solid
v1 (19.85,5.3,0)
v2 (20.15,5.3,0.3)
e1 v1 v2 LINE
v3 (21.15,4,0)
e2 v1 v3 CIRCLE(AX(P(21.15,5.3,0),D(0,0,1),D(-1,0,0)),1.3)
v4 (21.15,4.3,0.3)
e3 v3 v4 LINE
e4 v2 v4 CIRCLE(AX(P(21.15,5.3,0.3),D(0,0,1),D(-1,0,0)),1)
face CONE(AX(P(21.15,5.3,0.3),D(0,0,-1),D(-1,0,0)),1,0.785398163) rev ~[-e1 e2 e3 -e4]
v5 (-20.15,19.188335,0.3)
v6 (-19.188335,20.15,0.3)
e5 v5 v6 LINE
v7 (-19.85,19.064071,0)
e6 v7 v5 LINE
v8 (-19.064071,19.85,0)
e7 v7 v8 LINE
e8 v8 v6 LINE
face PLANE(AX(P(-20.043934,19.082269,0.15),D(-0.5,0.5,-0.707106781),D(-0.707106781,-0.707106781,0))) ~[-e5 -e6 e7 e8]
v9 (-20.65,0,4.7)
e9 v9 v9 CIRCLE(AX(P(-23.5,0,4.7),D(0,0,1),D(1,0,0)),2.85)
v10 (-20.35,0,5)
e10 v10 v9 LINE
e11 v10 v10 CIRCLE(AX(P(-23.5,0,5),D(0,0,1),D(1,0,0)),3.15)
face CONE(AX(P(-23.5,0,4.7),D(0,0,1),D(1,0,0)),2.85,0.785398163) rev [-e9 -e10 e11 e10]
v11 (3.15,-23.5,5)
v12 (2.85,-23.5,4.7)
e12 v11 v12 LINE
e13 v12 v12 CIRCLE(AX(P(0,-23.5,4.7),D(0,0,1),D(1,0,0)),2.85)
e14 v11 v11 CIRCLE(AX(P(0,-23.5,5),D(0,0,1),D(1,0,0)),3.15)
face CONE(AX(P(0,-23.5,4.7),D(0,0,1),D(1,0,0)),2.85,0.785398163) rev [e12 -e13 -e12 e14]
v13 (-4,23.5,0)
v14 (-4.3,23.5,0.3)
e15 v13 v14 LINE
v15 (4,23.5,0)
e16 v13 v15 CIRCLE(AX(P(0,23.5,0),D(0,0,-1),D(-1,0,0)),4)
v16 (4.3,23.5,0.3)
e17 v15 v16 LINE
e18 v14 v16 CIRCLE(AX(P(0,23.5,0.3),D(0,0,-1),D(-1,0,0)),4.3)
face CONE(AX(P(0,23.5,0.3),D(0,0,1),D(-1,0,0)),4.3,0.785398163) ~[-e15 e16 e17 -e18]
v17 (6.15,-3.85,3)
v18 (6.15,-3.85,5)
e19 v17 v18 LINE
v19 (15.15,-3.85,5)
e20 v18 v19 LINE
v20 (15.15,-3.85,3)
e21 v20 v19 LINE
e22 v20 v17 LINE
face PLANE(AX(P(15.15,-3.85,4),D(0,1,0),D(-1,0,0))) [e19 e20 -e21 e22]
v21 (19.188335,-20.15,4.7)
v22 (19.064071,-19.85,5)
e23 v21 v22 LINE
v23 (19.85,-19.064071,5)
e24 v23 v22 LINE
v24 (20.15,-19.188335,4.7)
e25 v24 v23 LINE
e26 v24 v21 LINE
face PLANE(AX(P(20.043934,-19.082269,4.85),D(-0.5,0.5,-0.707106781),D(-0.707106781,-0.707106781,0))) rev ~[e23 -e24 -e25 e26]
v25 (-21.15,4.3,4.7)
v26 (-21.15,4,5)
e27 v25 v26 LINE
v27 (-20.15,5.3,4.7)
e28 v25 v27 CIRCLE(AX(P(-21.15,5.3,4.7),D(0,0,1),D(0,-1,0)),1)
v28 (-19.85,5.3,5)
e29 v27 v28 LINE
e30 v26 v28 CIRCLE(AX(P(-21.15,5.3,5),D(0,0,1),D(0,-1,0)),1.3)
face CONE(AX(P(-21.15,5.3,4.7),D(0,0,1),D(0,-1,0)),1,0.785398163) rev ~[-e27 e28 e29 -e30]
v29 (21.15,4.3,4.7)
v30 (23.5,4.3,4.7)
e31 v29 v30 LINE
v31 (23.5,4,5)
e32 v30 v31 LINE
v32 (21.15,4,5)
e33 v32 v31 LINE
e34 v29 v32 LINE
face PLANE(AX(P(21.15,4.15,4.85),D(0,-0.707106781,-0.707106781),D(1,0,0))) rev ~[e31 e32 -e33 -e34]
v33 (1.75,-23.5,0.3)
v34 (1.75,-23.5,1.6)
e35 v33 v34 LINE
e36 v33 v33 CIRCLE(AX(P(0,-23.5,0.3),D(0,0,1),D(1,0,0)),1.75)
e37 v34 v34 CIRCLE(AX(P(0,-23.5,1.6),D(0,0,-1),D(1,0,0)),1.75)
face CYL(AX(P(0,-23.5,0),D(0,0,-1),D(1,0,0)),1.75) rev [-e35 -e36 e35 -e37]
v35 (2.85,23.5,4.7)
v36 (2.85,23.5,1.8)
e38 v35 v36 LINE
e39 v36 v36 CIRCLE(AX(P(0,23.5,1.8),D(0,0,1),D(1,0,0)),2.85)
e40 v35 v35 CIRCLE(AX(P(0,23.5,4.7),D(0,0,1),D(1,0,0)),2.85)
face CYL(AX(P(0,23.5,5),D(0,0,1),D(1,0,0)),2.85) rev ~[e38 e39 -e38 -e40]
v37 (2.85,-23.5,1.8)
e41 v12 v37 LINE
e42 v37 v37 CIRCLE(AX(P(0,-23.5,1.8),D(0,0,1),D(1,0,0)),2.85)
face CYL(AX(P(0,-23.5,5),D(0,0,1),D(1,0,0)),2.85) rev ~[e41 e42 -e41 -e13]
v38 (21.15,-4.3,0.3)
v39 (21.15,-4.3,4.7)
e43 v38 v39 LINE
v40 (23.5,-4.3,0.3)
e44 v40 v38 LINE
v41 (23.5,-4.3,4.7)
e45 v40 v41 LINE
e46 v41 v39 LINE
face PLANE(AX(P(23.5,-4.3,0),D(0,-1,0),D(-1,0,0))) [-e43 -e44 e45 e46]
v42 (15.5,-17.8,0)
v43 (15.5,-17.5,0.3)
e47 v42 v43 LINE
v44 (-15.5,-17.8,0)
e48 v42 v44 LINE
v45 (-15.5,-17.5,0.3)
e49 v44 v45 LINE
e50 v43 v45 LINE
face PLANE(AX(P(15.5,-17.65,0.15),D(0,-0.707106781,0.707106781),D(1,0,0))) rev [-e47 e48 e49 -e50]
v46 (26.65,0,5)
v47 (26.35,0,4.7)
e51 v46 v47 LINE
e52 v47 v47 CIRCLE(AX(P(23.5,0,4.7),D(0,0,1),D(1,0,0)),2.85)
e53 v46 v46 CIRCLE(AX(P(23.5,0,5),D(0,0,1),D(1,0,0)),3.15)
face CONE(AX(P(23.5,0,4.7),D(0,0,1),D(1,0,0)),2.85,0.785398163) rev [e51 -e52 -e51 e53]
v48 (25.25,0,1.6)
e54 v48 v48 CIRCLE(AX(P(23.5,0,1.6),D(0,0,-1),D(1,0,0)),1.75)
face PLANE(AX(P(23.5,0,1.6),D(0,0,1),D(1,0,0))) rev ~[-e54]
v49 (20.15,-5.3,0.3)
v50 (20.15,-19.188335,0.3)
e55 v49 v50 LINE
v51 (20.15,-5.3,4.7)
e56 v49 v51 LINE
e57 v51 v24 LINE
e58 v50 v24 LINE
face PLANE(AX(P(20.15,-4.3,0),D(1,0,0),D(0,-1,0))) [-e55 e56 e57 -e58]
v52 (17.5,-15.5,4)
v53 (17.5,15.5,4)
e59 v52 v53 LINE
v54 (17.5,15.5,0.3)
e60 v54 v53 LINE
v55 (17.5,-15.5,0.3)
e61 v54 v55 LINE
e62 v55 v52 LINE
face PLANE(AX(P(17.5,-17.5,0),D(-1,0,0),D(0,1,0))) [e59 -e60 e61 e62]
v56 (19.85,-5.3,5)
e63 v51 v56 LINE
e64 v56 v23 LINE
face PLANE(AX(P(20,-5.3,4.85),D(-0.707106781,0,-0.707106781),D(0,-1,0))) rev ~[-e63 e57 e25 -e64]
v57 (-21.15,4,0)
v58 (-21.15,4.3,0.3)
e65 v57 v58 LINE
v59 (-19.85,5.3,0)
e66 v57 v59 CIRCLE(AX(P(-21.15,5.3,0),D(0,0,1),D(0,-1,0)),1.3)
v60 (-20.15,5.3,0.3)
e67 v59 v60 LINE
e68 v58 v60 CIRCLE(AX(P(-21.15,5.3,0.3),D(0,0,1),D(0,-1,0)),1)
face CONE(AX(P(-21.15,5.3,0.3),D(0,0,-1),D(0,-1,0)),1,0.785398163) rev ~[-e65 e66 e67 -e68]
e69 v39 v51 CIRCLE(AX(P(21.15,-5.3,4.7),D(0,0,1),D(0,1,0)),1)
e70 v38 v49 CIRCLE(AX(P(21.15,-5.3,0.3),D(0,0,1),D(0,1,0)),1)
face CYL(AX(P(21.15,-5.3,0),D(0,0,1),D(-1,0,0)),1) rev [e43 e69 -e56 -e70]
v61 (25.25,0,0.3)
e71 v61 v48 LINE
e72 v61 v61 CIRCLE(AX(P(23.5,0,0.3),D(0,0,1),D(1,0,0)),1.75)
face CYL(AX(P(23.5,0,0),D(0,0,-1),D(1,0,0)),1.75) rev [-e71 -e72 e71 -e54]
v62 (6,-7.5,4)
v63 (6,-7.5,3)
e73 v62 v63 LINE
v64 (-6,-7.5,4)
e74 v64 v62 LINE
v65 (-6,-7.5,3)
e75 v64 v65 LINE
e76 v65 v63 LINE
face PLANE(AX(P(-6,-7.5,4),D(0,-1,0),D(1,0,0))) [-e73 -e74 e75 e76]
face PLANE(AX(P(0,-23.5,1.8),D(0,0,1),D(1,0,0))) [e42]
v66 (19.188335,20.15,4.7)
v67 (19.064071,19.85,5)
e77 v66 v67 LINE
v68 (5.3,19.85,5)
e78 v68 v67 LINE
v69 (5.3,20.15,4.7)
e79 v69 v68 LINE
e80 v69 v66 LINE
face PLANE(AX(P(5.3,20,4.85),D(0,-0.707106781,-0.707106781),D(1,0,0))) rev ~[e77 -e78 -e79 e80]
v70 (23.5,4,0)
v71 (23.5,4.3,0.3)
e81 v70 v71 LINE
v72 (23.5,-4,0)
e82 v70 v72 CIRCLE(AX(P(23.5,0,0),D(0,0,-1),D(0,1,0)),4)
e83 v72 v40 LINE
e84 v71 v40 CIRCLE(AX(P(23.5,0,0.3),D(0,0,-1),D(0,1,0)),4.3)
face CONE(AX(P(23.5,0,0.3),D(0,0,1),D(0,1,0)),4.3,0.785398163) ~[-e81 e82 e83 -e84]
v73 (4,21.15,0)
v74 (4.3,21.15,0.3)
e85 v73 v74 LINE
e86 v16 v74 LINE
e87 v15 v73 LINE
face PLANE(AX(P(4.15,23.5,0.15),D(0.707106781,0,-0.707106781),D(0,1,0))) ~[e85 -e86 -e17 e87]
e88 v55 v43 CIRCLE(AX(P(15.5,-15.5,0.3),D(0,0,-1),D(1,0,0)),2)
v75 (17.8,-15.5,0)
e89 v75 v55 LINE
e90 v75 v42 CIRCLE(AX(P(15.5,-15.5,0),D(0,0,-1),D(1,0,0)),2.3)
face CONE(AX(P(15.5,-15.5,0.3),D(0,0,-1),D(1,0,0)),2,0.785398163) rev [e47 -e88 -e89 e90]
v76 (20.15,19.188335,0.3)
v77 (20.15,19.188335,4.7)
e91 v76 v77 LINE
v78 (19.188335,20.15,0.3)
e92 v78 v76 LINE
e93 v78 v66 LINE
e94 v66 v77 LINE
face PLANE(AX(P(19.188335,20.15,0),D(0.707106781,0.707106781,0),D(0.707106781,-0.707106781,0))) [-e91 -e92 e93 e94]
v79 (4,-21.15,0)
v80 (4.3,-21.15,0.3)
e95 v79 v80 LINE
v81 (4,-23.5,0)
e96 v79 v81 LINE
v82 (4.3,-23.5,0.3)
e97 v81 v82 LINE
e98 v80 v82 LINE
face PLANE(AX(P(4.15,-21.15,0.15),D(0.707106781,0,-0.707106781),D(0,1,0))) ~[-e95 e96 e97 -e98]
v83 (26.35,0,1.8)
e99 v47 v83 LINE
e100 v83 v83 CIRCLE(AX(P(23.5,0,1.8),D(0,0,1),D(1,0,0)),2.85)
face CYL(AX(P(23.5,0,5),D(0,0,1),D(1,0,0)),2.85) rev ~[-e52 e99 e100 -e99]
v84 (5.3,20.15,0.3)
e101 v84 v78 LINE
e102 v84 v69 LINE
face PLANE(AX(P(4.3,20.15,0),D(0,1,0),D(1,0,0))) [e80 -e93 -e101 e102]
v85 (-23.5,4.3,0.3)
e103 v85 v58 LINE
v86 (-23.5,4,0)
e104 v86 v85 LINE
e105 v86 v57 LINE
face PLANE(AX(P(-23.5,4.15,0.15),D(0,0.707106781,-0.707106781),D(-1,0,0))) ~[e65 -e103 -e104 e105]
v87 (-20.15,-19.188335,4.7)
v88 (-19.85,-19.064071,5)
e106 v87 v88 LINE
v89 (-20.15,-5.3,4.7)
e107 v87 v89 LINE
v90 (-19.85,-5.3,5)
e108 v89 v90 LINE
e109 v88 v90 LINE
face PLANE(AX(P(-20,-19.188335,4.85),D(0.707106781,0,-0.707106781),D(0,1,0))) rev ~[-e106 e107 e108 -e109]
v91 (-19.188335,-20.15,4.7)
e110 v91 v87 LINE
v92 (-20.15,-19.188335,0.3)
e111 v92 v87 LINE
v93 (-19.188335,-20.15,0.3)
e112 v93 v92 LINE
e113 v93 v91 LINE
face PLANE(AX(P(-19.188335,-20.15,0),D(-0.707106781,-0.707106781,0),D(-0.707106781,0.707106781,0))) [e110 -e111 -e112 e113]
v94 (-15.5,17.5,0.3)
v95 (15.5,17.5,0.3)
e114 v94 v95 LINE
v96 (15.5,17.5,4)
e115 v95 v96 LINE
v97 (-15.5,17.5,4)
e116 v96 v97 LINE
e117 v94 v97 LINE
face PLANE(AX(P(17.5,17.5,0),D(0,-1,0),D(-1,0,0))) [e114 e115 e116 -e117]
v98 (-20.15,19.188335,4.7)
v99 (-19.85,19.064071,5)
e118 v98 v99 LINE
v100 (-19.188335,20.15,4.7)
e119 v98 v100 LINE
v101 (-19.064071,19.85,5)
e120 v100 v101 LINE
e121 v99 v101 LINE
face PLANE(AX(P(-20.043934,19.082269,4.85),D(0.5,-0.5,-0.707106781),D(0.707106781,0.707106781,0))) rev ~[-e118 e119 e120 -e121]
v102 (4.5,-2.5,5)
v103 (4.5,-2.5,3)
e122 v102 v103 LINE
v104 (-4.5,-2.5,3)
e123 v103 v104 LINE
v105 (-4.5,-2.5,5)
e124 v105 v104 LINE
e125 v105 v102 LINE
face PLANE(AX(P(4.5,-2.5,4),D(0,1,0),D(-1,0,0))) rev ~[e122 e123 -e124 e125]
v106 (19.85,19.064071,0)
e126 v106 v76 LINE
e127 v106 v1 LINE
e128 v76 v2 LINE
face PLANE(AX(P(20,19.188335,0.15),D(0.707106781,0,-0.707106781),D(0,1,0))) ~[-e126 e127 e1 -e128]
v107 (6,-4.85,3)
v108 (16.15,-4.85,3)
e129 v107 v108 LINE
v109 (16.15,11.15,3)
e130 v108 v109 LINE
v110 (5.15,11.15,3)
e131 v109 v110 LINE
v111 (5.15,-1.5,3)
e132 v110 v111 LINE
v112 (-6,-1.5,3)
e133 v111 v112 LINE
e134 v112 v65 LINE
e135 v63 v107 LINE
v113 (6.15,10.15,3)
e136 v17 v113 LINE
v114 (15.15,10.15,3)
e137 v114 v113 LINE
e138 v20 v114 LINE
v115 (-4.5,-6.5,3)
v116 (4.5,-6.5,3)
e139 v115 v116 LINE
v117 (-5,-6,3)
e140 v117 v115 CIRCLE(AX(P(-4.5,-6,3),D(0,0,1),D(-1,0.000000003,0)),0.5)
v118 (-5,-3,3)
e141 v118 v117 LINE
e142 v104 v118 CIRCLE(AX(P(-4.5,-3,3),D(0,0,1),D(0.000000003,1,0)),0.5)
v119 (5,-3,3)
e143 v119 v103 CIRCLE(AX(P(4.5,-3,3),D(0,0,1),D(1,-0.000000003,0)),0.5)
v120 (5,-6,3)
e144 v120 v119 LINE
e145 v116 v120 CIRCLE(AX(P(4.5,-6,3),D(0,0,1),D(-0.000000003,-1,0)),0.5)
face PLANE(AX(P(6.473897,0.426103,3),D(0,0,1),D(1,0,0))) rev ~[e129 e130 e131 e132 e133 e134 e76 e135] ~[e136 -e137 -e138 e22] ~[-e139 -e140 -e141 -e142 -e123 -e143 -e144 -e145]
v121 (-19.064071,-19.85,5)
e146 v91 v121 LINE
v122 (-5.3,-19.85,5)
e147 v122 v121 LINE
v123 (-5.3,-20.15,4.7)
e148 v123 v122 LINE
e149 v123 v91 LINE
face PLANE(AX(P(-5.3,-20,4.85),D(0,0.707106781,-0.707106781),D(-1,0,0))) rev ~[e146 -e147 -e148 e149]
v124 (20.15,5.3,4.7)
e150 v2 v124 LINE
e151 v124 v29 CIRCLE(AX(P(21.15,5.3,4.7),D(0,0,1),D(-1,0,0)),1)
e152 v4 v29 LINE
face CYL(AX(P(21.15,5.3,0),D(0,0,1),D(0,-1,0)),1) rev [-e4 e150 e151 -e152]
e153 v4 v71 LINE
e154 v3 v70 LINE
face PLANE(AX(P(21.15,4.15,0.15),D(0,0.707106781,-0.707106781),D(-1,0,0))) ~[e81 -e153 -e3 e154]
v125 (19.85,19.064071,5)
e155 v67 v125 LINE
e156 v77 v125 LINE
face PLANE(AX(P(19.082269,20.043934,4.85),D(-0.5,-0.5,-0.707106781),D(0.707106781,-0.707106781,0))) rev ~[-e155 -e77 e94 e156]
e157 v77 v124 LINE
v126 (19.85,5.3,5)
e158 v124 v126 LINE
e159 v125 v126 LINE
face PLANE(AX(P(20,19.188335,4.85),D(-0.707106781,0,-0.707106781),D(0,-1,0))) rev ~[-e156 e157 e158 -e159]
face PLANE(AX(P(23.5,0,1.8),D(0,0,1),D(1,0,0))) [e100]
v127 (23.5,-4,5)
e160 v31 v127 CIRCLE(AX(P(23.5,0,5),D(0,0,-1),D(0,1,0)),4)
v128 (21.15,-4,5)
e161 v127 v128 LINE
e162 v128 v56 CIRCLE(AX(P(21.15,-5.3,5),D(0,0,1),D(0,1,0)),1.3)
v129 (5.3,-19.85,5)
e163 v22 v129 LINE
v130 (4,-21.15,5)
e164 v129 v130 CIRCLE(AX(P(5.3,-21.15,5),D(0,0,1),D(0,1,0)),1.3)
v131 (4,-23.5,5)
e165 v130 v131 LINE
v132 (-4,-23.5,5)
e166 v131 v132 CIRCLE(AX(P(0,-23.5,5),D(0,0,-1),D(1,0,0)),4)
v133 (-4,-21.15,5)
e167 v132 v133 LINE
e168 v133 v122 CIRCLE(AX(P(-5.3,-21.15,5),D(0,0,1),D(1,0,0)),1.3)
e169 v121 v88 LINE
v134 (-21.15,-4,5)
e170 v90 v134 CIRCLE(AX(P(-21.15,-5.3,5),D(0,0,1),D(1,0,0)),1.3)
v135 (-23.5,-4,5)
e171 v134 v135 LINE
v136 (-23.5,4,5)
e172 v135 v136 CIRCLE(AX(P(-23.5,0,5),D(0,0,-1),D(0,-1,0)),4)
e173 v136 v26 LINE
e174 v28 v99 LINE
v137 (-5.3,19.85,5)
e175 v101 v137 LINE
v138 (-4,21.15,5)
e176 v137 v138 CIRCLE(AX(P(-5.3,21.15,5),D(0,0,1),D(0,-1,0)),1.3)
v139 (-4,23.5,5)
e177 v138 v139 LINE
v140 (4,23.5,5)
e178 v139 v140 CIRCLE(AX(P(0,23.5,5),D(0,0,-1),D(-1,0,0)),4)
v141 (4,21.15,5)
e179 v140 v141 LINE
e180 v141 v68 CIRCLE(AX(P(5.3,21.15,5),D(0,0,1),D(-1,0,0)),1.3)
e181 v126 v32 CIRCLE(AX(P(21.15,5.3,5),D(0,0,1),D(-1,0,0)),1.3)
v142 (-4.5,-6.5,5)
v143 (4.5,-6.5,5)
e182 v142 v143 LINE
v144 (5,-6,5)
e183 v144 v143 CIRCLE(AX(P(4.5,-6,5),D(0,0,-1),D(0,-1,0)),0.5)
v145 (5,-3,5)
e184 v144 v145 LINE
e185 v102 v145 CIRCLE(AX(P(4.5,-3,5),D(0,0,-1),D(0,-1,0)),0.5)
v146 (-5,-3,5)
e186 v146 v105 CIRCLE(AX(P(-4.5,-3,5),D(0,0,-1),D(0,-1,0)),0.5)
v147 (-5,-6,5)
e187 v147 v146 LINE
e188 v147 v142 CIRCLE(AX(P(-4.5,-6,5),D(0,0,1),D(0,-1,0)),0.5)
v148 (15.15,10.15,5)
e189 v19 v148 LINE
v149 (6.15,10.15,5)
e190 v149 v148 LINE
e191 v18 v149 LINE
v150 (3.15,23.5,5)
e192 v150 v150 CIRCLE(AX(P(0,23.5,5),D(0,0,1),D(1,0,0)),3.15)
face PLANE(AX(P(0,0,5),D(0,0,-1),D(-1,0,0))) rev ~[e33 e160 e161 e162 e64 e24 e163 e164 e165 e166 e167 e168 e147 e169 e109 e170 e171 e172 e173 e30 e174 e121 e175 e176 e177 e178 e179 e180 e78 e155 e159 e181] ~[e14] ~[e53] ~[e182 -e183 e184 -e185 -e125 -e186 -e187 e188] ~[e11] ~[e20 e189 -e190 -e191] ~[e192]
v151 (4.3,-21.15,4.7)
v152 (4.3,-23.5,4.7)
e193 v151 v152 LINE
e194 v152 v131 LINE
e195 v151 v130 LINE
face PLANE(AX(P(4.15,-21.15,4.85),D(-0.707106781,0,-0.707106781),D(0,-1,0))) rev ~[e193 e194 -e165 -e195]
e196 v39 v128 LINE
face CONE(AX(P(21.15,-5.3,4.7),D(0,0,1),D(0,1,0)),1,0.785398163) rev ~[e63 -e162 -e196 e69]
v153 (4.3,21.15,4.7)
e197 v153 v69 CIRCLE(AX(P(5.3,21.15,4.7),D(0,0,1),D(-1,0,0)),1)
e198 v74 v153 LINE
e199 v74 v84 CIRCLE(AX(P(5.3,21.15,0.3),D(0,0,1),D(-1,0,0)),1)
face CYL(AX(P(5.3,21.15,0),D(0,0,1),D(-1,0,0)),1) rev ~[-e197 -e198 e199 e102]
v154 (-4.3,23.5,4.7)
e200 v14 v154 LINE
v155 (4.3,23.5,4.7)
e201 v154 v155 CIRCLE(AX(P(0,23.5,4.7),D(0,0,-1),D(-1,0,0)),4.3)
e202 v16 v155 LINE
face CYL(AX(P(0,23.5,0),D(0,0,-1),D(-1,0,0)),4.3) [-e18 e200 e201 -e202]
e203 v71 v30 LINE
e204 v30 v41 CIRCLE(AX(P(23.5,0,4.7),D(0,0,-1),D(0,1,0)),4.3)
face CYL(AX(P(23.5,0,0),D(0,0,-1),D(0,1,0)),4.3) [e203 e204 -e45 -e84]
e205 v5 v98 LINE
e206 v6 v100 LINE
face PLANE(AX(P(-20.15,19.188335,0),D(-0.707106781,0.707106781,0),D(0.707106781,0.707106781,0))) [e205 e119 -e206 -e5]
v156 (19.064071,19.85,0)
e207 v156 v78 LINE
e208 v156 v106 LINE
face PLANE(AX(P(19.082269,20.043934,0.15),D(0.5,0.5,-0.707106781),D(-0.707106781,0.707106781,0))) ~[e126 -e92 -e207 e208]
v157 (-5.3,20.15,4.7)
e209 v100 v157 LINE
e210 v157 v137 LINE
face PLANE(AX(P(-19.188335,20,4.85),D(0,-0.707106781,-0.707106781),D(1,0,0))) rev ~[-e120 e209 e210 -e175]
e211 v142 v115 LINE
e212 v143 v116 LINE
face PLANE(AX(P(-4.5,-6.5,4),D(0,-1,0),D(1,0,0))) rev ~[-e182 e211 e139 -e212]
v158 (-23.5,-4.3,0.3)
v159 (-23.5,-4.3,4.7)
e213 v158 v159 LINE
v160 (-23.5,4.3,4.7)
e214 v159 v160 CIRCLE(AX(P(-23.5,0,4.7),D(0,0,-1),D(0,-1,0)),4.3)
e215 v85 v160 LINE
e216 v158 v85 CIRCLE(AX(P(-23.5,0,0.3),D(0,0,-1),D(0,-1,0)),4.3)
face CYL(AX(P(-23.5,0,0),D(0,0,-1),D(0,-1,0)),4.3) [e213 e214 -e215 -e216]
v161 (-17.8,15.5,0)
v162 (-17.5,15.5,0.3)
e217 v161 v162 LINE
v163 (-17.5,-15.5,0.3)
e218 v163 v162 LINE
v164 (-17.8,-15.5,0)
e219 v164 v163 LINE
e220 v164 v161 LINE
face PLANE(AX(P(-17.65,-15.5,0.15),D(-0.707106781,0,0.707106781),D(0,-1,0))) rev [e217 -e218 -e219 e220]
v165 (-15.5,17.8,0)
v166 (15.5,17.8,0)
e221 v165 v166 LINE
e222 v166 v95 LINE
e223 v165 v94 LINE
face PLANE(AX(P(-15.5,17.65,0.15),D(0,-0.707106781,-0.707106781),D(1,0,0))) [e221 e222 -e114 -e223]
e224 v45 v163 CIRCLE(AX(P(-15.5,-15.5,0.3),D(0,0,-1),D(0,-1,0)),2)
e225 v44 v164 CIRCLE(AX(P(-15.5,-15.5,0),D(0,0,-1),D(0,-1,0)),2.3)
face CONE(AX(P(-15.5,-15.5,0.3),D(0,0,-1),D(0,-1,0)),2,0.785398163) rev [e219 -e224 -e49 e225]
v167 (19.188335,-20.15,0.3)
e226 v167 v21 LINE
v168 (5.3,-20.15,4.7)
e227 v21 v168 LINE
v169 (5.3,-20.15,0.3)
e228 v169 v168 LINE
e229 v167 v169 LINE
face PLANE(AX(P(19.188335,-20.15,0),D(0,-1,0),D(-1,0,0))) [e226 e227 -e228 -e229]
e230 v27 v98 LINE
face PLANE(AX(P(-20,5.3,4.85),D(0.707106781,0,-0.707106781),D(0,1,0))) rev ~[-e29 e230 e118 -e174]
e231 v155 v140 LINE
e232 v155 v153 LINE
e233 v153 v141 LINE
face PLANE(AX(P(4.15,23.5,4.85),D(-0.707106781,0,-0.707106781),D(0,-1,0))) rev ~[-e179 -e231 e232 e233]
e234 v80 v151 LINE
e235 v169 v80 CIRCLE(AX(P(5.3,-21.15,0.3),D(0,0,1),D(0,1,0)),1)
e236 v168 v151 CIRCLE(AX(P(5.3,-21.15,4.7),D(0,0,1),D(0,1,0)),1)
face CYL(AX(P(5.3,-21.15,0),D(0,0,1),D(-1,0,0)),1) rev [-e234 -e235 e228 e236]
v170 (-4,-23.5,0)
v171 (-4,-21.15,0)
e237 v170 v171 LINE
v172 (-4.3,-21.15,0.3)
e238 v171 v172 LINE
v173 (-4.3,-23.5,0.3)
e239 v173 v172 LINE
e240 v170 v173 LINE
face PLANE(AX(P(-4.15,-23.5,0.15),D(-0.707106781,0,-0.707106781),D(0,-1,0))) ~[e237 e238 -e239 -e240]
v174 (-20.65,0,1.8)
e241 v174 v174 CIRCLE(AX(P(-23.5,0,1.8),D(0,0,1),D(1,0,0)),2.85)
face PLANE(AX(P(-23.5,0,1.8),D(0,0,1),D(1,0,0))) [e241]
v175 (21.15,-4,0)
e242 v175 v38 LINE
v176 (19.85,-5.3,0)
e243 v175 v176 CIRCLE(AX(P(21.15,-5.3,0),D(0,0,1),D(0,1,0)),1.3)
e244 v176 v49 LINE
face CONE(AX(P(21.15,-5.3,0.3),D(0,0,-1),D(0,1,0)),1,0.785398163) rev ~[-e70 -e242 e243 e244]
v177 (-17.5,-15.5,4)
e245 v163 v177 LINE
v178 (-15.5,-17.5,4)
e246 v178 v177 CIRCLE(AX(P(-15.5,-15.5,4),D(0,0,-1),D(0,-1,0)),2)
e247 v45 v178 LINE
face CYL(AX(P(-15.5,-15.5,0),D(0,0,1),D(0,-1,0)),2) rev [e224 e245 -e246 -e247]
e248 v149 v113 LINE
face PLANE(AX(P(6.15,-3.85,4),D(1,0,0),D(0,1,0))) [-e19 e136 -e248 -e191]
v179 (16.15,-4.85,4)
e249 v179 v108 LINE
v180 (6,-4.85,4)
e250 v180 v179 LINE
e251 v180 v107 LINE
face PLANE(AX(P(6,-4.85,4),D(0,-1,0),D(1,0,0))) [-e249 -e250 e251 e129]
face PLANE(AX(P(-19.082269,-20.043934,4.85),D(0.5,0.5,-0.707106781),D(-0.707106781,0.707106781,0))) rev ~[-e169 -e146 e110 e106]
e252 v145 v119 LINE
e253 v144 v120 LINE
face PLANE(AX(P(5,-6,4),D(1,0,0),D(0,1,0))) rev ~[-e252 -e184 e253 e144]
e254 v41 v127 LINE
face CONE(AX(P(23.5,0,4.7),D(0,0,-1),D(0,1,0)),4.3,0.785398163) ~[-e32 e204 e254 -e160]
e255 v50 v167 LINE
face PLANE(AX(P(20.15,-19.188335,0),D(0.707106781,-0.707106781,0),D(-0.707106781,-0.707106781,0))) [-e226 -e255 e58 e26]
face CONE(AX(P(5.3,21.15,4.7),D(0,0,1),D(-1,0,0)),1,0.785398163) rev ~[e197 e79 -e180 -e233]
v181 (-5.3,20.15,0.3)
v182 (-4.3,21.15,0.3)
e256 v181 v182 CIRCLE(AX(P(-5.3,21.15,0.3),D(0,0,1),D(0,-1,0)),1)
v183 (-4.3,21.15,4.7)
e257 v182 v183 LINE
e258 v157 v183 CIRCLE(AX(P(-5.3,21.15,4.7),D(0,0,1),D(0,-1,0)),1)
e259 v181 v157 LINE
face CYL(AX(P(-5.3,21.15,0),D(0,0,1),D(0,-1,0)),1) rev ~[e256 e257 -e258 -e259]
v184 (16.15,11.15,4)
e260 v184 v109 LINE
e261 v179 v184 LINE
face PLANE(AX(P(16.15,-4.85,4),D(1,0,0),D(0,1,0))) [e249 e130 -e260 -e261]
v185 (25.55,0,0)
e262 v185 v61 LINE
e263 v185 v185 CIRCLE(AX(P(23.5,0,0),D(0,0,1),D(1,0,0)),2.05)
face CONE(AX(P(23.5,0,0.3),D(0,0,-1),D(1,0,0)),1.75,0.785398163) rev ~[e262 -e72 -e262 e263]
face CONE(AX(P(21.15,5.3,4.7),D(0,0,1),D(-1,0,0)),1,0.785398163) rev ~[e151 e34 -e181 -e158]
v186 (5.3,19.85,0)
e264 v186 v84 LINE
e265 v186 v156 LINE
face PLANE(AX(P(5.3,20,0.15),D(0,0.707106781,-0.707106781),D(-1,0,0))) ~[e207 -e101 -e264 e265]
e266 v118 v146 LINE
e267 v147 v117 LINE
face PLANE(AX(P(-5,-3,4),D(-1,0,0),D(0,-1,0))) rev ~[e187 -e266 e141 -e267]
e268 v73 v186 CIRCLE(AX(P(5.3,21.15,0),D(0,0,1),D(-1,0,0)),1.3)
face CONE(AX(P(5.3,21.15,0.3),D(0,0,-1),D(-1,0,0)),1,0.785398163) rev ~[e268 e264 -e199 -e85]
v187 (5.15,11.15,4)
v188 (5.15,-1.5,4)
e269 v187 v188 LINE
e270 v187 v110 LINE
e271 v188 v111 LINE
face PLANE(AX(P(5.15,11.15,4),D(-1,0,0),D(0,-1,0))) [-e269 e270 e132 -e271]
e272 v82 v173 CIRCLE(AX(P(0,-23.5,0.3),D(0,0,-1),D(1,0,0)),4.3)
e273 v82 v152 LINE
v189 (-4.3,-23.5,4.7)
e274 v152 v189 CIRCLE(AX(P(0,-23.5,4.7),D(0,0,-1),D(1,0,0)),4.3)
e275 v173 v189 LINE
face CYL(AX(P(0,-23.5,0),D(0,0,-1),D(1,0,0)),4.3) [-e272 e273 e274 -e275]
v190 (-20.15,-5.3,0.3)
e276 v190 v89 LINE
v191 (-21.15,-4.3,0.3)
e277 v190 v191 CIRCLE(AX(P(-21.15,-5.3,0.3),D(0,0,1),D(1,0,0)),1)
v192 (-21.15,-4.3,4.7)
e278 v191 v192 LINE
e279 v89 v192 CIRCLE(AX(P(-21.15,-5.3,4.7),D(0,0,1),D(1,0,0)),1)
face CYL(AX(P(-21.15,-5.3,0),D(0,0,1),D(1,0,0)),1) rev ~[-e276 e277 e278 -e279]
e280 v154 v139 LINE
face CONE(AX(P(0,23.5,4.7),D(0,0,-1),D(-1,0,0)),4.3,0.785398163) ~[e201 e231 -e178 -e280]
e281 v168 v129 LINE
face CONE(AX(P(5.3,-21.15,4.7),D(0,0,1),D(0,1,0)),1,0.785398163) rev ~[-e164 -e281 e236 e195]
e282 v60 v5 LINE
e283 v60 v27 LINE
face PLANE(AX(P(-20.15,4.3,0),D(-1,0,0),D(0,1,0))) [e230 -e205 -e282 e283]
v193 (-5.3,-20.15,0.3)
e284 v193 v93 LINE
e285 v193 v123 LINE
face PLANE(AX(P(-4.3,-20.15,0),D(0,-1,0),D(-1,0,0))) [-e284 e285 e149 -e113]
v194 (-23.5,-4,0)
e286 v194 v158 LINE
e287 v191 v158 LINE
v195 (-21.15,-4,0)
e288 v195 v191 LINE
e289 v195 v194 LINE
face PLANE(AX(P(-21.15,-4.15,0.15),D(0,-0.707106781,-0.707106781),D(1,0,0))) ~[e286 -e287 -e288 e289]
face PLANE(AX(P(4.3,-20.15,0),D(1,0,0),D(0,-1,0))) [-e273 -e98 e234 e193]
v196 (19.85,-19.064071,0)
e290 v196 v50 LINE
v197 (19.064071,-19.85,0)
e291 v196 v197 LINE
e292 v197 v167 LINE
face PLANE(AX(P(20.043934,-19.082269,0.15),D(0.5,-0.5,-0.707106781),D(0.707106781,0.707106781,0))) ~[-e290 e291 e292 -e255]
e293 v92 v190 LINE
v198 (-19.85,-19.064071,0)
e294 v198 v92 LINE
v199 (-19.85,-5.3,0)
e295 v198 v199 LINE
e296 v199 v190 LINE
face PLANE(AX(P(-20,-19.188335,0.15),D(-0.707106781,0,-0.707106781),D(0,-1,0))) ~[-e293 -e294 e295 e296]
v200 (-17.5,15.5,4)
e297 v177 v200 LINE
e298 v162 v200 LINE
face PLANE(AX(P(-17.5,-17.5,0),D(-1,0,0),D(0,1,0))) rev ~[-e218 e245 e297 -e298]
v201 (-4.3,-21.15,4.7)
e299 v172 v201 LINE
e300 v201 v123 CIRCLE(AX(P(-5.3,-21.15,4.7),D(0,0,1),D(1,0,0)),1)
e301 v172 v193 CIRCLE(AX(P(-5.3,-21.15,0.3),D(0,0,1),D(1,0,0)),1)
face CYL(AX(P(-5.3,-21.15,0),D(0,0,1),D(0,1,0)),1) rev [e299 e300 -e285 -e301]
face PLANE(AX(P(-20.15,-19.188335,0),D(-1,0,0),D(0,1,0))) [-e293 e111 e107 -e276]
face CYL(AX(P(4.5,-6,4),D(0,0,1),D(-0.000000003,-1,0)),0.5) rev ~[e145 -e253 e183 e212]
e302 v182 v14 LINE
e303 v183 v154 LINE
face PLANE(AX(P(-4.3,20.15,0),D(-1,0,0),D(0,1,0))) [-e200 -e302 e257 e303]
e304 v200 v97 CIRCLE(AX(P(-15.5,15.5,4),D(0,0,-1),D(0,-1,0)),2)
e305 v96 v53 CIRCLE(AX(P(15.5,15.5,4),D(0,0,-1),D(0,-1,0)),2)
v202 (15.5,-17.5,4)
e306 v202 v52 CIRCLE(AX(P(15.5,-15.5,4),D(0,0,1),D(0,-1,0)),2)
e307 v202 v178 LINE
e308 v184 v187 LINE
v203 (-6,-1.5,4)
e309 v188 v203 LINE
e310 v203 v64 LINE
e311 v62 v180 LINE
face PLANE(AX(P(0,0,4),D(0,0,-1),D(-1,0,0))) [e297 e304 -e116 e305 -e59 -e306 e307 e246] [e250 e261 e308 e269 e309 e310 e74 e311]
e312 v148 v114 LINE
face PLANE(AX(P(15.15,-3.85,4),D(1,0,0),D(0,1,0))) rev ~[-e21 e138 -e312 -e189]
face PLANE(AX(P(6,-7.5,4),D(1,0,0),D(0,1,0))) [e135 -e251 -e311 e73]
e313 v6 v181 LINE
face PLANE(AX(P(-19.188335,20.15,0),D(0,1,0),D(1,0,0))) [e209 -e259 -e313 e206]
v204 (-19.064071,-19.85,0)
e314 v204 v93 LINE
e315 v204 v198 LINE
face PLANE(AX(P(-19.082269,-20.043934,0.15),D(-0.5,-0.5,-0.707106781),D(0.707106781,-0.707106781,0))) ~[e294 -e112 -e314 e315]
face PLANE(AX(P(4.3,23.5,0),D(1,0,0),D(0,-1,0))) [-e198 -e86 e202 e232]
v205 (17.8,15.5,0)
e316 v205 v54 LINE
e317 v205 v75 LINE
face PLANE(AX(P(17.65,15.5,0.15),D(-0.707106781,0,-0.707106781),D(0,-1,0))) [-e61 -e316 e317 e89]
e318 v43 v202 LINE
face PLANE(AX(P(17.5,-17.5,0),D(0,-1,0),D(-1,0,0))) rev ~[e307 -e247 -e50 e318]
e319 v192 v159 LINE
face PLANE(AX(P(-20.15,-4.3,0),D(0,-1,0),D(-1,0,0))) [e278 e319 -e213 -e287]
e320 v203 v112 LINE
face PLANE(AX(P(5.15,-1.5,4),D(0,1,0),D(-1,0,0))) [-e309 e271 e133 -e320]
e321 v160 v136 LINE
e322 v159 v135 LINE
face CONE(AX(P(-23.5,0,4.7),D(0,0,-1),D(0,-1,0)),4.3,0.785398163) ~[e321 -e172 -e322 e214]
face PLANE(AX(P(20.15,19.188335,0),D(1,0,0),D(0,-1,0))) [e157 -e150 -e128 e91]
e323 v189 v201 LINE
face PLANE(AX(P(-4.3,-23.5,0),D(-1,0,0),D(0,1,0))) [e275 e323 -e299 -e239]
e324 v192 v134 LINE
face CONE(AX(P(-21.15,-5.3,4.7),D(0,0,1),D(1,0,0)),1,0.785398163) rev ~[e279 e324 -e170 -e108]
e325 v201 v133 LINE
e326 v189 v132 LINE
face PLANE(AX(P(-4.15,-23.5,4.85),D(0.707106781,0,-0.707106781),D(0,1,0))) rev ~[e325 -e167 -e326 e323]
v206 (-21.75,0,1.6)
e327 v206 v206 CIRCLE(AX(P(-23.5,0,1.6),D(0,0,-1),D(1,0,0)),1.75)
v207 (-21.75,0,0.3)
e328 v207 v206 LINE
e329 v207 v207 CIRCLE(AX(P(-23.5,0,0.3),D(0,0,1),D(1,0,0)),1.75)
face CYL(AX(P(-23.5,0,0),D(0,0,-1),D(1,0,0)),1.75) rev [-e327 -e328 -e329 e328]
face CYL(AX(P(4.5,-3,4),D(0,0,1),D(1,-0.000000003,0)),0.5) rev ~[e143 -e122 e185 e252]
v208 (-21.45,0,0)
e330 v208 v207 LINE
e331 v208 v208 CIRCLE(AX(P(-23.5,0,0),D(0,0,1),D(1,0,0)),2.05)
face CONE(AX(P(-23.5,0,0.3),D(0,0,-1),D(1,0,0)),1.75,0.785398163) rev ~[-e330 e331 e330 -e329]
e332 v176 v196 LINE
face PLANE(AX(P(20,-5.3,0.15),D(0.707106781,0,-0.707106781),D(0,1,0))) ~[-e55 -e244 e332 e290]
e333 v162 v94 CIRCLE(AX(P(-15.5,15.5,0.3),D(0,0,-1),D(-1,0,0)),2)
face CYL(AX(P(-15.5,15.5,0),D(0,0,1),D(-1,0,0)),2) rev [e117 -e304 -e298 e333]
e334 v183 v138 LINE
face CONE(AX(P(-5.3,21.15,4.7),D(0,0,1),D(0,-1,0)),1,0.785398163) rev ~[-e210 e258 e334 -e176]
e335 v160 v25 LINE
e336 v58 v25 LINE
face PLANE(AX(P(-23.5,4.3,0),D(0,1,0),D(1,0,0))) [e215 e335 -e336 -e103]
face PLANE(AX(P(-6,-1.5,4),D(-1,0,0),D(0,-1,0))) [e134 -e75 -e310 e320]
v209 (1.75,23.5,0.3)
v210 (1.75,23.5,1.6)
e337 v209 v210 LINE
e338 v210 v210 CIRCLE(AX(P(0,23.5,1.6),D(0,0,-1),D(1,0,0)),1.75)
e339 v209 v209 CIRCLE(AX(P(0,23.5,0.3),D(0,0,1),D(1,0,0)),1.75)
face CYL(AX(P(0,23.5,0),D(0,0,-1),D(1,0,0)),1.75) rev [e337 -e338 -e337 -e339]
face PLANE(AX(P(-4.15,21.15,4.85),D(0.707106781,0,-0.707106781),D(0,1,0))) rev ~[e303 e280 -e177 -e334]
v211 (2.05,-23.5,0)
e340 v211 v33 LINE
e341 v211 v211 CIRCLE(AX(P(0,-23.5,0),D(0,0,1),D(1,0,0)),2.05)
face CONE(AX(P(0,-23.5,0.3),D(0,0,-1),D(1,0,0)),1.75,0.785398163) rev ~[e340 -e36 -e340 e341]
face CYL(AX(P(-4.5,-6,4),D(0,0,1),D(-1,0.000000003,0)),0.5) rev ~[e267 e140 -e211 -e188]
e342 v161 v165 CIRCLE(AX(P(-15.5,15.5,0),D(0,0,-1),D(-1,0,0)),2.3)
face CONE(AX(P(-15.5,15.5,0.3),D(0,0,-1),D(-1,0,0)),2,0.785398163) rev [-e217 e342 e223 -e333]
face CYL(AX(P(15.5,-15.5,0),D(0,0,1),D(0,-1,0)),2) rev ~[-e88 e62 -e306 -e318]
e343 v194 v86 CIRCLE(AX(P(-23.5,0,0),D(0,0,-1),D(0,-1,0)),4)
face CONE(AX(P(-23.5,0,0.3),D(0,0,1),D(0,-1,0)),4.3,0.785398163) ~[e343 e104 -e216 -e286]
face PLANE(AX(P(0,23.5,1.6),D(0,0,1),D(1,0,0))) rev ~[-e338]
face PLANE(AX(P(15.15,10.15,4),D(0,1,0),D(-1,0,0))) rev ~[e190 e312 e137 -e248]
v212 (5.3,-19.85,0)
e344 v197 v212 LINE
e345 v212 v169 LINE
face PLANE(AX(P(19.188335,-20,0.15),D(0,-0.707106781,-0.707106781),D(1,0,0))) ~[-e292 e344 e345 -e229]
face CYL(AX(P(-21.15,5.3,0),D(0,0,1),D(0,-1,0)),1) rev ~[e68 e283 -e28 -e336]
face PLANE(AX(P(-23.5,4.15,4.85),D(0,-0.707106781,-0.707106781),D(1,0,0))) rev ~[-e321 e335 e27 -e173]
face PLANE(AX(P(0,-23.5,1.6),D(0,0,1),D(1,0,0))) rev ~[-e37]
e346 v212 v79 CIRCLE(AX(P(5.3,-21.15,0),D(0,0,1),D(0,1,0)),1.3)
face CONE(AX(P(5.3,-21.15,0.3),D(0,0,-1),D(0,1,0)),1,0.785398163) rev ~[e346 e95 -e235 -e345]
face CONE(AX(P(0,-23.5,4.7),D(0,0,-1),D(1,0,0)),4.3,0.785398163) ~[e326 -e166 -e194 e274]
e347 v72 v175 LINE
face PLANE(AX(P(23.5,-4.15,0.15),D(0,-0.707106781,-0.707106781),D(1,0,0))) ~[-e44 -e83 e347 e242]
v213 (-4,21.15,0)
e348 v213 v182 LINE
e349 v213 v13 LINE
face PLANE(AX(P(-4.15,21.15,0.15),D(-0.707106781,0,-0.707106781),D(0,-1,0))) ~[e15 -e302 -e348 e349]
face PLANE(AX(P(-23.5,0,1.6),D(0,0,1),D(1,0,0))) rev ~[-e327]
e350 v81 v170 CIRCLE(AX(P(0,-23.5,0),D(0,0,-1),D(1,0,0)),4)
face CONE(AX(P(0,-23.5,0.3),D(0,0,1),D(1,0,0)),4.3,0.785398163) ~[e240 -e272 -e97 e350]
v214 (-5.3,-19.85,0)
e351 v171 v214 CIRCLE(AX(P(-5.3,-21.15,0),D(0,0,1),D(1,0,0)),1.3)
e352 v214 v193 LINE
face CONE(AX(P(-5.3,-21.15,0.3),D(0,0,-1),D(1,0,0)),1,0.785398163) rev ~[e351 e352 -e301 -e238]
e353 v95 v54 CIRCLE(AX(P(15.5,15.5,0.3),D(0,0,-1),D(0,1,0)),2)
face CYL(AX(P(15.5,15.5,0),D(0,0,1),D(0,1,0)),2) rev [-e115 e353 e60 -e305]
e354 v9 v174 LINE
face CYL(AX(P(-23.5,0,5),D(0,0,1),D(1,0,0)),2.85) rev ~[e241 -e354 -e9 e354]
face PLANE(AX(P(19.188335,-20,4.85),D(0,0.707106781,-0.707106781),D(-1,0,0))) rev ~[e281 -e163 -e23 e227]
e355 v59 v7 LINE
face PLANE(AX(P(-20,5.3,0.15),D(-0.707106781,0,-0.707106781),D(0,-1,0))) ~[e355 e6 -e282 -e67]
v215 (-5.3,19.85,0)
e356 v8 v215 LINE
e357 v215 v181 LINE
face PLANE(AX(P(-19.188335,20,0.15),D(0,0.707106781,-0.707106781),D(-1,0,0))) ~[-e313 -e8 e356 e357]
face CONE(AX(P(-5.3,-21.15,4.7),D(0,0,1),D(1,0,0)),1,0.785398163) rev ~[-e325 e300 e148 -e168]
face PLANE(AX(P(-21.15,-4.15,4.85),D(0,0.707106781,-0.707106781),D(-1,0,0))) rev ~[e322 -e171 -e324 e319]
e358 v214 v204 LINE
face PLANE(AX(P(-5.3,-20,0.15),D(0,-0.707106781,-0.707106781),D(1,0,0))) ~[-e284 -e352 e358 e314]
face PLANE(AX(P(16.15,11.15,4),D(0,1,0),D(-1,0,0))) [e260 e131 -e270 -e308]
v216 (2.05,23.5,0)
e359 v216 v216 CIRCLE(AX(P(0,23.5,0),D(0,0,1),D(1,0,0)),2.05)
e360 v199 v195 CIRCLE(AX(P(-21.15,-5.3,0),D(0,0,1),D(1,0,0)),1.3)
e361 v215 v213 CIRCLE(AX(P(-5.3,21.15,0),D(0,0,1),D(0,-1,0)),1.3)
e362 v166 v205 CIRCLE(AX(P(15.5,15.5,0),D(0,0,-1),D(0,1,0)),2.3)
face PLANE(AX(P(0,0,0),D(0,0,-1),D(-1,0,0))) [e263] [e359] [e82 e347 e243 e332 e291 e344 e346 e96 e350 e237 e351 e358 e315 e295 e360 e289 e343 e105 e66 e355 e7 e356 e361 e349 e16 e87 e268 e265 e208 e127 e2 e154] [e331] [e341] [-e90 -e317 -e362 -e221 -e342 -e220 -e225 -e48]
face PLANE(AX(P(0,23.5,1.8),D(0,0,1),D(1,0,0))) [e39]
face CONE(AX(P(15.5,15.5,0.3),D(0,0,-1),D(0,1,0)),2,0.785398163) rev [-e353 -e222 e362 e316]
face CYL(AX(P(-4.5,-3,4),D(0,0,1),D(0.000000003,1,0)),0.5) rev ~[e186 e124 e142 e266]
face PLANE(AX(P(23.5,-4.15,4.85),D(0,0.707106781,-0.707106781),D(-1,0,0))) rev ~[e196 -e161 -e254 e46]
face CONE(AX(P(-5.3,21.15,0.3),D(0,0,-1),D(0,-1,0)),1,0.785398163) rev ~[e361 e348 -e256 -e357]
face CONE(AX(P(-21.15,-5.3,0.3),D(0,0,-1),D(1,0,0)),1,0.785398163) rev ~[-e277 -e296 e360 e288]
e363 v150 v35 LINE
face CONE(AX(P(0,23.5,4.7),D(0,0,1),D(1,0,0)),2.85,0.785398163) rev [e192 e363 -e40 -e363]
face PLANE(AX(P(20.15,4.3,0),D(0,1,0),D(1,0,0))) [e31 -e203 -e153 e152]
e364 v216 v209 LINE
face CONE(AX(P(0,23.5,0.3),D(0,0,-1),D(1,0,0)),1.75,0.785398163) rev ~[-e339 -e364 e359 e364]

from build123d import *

# Parameters (mm, degrees)
SKETCH1_R           = 1.75
SKETCH1_W           = 9
SKETCH1_H           = 14
SKETCH1_W_2         = 10
SKETCH1_H_2         = 4
BOSS_EXTRUDE1_DEPTH = 5
FILLET3_R           = 0.5
SKETCH2_R           = 2.85
CUT_EXTRUDE1_DEPTH  = 3.2
SKETCH3_R           = 2.407181936
SKETCH3_R_2         = 2.340327513
SKETCH3_R_3         = 2.41187395
SKETCH3_R_4         = 2.413205516
BOSS_EXTRUDE2_DEPTH = 0.2
SKETCH4_W           = 35
SKETCH4_H           = 35
CUT_EXTRUDE2_DEPTH  = 4
SKETCH5_W           = 9
SKETCH5_H           = 14
BOSS_EXTRUDE3_DEPTH = 1
FILLET2_R           = 1
FILLET1_R           = 2
CHAMFER1_SIZE       = 0.3


with BuildPart() as part:
    # Sketch1 → Boss-Extrude1 (new body)
    with BuildSketch(Plane.XY):
        with BuildLine():
            Line((19.188334778, 20.15), (20.15, 19.188334778))
            Line((20.15, 19.188334778), (20.15, 4.3))
            Line((20.15, 4.3), (23.5, 4.3))
            ThreePointArc((23.5, 4.3), (27.8, 0), (23.5, -4.3))
            Line((23.5, -4.3), (20.15, -4.3))
            Line((20.15, -4.3), (20.15, -19.188334778))
            Line((20.15, -19.188334778), (19.188334778, -20.15))
            Line((19.188334778, -20.15), (4.3, -20.15))
            Line((4.3, -20.15), (4.3, -23.5))
            ThreePointArc((4.3, -23.5), (0, -27.8), (-4.3, -23.5))
            Line((-4.3, -23.5), (-4.3, -20.15))
            Line((-4.3, -20.15), (-19.188334778, -20.15))
            Line((-19.188334778, -20.15), (-20.15, -19.188334778))
            Line((-20.15, -19.188334778), (-20.15, -4.3))
            Line((-20.15, -4.3), (-23.5, -4.3))
            ThreePointArc((-23.5, -4.3), (-27.8, 0), (-23.5, 4.3))
            Line((-23.5, 4.3), (-20.15, 4.3))
            Line((-20.15, 4.3), (-20.15, 19.188334778))
            Line((-20.15, 19.188334778), (-19.188334778, 20.15))
            Line((-19.188334778, 20.15), (-4.3, 20.15))
            Line((-4.3, 20.15), (-4.3, 23.5))
            ThreePointArc((-4.3, 23.5), (0, 27.8), (4.3, 23.5))
            Line((4.3, 23.5), (4.3, 20.15))
            Line((4.3, 20.15), (19.188334778, 20.15))
        make_face()
        with Locations((0, 23.5)):
            Circle(SKETCH1_R, mode=Mode.SUBTRACT)
        with Locations((23.5, 0)):
            Circle(SKETCH1_R, mode=Mode.SUBTRACT)
        with Locations((0, -23.5)):
            Circle(SKETCH1_R, mode=Mode.SUBTRACT)
        with Locations((-23.5, 0)):
            Circle(SKETCH1_R, mode=Mode.SUBTRACT)
        with Locations((10.65, 3.15)):
            Rectangle(SKETCH1_W, SKETCH1_H, mode=Mode.SUBTRACT)
        with Locations((0, -4.5)):
            Rectangle(SKETCH1_W_2, SKETCH1_H_2, mode=Mode.SUBTRACT)
    extrude(amount=BOSS_EXTRUDE1_DEPTH)

    # Fillet3
    fillet3_edges = [part.edges().sort_by_distance(p)[0] for p in [
        (-5, -2.5, 2.5),
        (-5, -6.5, 2.5),
        (5, -6.5, 2.5),
        (5, -2.5, 2.5),
    ]]
    fillet(fillet3_edges, radius=FILLET3_R)

    # Sketch2 → Cut-Extrude1 (cut)
    with BuildSketch(Plane.XY.offset(5)):
        with Locations((0, 23.5)):
            Circle(SKETCH2_R)
        with Locations((23.5, 0)):
            Circle(SKETCH2_R)
        with Locations((-23.5, 0)):
            Circle(SKETCH2_R)
        with Locations((0, -23.5)):
            Circle(SKETCH2_R)
    extrude(amount=-CUT_EXTRUDE1_DEPTH, mode=Mode.SUBTRACT)

    # Sketch3 → Boss-Extrude2 (add)
    with BuildSketch(Plane.XY.offset(1.8)):
        with Locations((0, 23.5)):
            Circle(SKETCH3_R)
        with Locations((23.5, 0)):
            Circle(SKETCH3_R_2)
        with Locations((0, -23.5)):
            Circle(SKETCH3_R_3)
        with Locations((-23.5, 0)):
            Circle(SKETCH3_R_4)
    extrude(amount=-BOSS_EXTRUDE2_DEPTH)

    # Sketch4 → Cut-Extrude2 (cut)
    with BuildSketch(Plane(origin=(0, 0, 0), x_dir=(-1, 0, 0), z_dir=(0, 0, -1))):
        Rectangle(SKETCH4_W, SKETCH4_H)
    extrude(amount=-CUT_EXTRUDE2_DEPTH, mode=Mode.SUBTRACT)

    # Sketch5 → Boss-Extrude3 (add)
    with BuildSketch(Plane(origin=(0, 0, 4), x_dir=(-1, 0, 0), z_dir=(0, 0, -1))):
        Polygon((-16.15, 11.15), (-5.15, 11.15), (-5.15, -1.5), (6, -1.5), (6, -7.5), (-6, -7.5), (-6, -4.85), (-16.15, -4.85), align=None)
        with Locations((-10.65, 3.15)):
            Rectangle(SKETCH5_W, SKETCH5_H, mode=Mode.SUBTRACT)
        with BuildLine():
            Line((5, -3), (5, -6))
            ThreePointArc((5, -6), (4.853553391, -6.353553391), (4.5, -6.5))
            Line((4.5, -6.5), (-4.5, -6.5))
            ThreePointArc((-4.5, -6.5), (-4.853553391, -6.353553391), (-5, -6))
            Line((-5, -6), (-5, -3))
            ThreePointArc((-5, -3), (-4.853553391, -2.646446609), (-4.5, -2.5))
            Line((-4.5, -2.5), (4.5, -2.5))
            ThreePointArc((4.5, -2.5), (4.853553391, -2.646446609), (5, -3))
        make_face(mode=Mode.SUBTRACT)
    extrude(amount=BOSS_EXTRUDE3_DEPTH)

    # Fillet2
    fillet2_edges = [part.edges().sort_by_distance(p)[0] for p in [
        (20.15, 4.3, 2.5),
        (20.15, -4.3, 2.5),
        (4.3, -20.15, 2.5),
        (-4.3, -20.15, 2.5),
        (-20.15, -4.3, 2.5),
        (-20.15, 4.3, 2.5),
        (-4.3, 20.15, 2.5),
        (4.3, 20.15, 2.5),
    ]]
    fillet(fillet2_edges, radius=FILLET2_R)

    # Fillet1
    fillet1_edges = [part.edges().sort_by_distance(p)[0] for p in [
        (-17.5, 17.5, 2),
        (-17.5, -17.5, 2),
        (17.5, -17.5, 2),
        (17.5, 17.5, 2),
    ]]
    fillet(fillet1_edges, radius=FILLET1_R)

    # Chamfer1
    chamfer1_edges = [part.edges().sort_by_distance(p)[0] for p in [
        (0, 27.8, 5),
        (-2.85, 23.5, 5),
        (20.65, 0, 5),
        (-26.35, 0, 5),
        (-2.85, -23.5, 5),
        (-4.3, 22.325, 5),
        (19.669167389, 19.669167389, 0),
        (22.325, 4.3, 0),
        (27.8, 0, 0),
        (-19.669167389, 19.669167389, 5),
        (20.15, -12.244167389, 0),
        (19.669167389, -19.669167389, 0),
        (4.3, -22.325, 0),
        (0, -27.8, 0),
        (-12.244167389, -20.15, 0),
        (-19.669167389, -19.669167389, 0),
        (-22.325, -4.3, 0),
        (-20.15, 12.244167389, 5),
        (-27.8, 0, 0),
        (-20.15, -12.244167389, 0),
        (-20.15, -12.244167389, 5),
        (-22.325, 4.3, 0),
        (-22.325, 4.3, 5),
        (-20.15, 12.244167389, 0),
        (-12.244167389, 20.15, 0),
        (-12.244167389, 20.15, 5),
        (4.3, 22.325, 0),
        (-19.669167389, 19.669167389, 0),
        (4.3, 22.325, 5),
        (20.15, 12.244167389, 0),
        (20.15, 12.244167389, 5),
        (22.325, -4.3, 0),
        (22.325, -4.3, 5),
        (12.244167389, -20.15, 0),
        (12.244167389, -20.15, 5),
        (-4.3, 22.325, 0),
        (-4.3, -22.325, 0),
        (-4.3, -22.325, 5),
        (-20.442893219, -4.592893219, 0),
        (0, 27.8, 0),
        (-20.442893219, -4.592893219, 5),
        (-20.442893219, 4.592893219, 0),
        (-20.442893219, 4.592893219, 5),
        (-4.592893219, 20.442893219, 0),
        (-4.592893219, 20.442893219, 5),
        (4.592893219, 20.442893219, 0),
        (4.592893219, 20.442893219, 5),
        (20.442893219, 4.592893219, 0),
        (20.442893219, 4.592893219, 5),
        (20.442893219, -4.592893219, 0),
        (20.442893219, -4.592893219, 5),
        (4.592893219, -20.442893219, 0),
        (4.592893219, -20.442893219, 5),
        (-4.592893219, -20.442893219, 0),
        (-4.592893219, -20.442893219, 5),
        (12.244167389, 20.15, 0),
        (-17.5, 0, 0),
        (0, -17.5, 0),
        (17.5, 0, 0),
        (0, 17.5, 0),
        (-16.914213562, -16.914213562, 0),
        (16.914213562, -16.914213562, 0),
        (16.914213562, 16.914213562, 0),
        (-16.914213562, 16.914213562, 0),
        (-27.8, 0, 5),
        (-22.325, -4.3, 5),
        (-19.669167389, -19.669167389, 5),
        (12.244167389, 20.15, 5),
        (-12.244167389, -20.15, 5),
        (-1.75, 23.5, 0),
        (0, -27.8, 5),
        (21.75, 0, 0),
        (4.3, -22.325, 5),
        (-1.75, -23.5, 0),
        (-25.25, 0, 0),
        (19.669167389, -19.669167389, 5),
        (20.15, -12.244167389, 5),
        (27.8, 0, 5),
        (22.325, 4.3, 5),
        (19.669167389, 19.669167389, 5),
    ]]
    chamfer(chamfer1_edges, length=CHAMFER1_SIZE)


solid = part.part
